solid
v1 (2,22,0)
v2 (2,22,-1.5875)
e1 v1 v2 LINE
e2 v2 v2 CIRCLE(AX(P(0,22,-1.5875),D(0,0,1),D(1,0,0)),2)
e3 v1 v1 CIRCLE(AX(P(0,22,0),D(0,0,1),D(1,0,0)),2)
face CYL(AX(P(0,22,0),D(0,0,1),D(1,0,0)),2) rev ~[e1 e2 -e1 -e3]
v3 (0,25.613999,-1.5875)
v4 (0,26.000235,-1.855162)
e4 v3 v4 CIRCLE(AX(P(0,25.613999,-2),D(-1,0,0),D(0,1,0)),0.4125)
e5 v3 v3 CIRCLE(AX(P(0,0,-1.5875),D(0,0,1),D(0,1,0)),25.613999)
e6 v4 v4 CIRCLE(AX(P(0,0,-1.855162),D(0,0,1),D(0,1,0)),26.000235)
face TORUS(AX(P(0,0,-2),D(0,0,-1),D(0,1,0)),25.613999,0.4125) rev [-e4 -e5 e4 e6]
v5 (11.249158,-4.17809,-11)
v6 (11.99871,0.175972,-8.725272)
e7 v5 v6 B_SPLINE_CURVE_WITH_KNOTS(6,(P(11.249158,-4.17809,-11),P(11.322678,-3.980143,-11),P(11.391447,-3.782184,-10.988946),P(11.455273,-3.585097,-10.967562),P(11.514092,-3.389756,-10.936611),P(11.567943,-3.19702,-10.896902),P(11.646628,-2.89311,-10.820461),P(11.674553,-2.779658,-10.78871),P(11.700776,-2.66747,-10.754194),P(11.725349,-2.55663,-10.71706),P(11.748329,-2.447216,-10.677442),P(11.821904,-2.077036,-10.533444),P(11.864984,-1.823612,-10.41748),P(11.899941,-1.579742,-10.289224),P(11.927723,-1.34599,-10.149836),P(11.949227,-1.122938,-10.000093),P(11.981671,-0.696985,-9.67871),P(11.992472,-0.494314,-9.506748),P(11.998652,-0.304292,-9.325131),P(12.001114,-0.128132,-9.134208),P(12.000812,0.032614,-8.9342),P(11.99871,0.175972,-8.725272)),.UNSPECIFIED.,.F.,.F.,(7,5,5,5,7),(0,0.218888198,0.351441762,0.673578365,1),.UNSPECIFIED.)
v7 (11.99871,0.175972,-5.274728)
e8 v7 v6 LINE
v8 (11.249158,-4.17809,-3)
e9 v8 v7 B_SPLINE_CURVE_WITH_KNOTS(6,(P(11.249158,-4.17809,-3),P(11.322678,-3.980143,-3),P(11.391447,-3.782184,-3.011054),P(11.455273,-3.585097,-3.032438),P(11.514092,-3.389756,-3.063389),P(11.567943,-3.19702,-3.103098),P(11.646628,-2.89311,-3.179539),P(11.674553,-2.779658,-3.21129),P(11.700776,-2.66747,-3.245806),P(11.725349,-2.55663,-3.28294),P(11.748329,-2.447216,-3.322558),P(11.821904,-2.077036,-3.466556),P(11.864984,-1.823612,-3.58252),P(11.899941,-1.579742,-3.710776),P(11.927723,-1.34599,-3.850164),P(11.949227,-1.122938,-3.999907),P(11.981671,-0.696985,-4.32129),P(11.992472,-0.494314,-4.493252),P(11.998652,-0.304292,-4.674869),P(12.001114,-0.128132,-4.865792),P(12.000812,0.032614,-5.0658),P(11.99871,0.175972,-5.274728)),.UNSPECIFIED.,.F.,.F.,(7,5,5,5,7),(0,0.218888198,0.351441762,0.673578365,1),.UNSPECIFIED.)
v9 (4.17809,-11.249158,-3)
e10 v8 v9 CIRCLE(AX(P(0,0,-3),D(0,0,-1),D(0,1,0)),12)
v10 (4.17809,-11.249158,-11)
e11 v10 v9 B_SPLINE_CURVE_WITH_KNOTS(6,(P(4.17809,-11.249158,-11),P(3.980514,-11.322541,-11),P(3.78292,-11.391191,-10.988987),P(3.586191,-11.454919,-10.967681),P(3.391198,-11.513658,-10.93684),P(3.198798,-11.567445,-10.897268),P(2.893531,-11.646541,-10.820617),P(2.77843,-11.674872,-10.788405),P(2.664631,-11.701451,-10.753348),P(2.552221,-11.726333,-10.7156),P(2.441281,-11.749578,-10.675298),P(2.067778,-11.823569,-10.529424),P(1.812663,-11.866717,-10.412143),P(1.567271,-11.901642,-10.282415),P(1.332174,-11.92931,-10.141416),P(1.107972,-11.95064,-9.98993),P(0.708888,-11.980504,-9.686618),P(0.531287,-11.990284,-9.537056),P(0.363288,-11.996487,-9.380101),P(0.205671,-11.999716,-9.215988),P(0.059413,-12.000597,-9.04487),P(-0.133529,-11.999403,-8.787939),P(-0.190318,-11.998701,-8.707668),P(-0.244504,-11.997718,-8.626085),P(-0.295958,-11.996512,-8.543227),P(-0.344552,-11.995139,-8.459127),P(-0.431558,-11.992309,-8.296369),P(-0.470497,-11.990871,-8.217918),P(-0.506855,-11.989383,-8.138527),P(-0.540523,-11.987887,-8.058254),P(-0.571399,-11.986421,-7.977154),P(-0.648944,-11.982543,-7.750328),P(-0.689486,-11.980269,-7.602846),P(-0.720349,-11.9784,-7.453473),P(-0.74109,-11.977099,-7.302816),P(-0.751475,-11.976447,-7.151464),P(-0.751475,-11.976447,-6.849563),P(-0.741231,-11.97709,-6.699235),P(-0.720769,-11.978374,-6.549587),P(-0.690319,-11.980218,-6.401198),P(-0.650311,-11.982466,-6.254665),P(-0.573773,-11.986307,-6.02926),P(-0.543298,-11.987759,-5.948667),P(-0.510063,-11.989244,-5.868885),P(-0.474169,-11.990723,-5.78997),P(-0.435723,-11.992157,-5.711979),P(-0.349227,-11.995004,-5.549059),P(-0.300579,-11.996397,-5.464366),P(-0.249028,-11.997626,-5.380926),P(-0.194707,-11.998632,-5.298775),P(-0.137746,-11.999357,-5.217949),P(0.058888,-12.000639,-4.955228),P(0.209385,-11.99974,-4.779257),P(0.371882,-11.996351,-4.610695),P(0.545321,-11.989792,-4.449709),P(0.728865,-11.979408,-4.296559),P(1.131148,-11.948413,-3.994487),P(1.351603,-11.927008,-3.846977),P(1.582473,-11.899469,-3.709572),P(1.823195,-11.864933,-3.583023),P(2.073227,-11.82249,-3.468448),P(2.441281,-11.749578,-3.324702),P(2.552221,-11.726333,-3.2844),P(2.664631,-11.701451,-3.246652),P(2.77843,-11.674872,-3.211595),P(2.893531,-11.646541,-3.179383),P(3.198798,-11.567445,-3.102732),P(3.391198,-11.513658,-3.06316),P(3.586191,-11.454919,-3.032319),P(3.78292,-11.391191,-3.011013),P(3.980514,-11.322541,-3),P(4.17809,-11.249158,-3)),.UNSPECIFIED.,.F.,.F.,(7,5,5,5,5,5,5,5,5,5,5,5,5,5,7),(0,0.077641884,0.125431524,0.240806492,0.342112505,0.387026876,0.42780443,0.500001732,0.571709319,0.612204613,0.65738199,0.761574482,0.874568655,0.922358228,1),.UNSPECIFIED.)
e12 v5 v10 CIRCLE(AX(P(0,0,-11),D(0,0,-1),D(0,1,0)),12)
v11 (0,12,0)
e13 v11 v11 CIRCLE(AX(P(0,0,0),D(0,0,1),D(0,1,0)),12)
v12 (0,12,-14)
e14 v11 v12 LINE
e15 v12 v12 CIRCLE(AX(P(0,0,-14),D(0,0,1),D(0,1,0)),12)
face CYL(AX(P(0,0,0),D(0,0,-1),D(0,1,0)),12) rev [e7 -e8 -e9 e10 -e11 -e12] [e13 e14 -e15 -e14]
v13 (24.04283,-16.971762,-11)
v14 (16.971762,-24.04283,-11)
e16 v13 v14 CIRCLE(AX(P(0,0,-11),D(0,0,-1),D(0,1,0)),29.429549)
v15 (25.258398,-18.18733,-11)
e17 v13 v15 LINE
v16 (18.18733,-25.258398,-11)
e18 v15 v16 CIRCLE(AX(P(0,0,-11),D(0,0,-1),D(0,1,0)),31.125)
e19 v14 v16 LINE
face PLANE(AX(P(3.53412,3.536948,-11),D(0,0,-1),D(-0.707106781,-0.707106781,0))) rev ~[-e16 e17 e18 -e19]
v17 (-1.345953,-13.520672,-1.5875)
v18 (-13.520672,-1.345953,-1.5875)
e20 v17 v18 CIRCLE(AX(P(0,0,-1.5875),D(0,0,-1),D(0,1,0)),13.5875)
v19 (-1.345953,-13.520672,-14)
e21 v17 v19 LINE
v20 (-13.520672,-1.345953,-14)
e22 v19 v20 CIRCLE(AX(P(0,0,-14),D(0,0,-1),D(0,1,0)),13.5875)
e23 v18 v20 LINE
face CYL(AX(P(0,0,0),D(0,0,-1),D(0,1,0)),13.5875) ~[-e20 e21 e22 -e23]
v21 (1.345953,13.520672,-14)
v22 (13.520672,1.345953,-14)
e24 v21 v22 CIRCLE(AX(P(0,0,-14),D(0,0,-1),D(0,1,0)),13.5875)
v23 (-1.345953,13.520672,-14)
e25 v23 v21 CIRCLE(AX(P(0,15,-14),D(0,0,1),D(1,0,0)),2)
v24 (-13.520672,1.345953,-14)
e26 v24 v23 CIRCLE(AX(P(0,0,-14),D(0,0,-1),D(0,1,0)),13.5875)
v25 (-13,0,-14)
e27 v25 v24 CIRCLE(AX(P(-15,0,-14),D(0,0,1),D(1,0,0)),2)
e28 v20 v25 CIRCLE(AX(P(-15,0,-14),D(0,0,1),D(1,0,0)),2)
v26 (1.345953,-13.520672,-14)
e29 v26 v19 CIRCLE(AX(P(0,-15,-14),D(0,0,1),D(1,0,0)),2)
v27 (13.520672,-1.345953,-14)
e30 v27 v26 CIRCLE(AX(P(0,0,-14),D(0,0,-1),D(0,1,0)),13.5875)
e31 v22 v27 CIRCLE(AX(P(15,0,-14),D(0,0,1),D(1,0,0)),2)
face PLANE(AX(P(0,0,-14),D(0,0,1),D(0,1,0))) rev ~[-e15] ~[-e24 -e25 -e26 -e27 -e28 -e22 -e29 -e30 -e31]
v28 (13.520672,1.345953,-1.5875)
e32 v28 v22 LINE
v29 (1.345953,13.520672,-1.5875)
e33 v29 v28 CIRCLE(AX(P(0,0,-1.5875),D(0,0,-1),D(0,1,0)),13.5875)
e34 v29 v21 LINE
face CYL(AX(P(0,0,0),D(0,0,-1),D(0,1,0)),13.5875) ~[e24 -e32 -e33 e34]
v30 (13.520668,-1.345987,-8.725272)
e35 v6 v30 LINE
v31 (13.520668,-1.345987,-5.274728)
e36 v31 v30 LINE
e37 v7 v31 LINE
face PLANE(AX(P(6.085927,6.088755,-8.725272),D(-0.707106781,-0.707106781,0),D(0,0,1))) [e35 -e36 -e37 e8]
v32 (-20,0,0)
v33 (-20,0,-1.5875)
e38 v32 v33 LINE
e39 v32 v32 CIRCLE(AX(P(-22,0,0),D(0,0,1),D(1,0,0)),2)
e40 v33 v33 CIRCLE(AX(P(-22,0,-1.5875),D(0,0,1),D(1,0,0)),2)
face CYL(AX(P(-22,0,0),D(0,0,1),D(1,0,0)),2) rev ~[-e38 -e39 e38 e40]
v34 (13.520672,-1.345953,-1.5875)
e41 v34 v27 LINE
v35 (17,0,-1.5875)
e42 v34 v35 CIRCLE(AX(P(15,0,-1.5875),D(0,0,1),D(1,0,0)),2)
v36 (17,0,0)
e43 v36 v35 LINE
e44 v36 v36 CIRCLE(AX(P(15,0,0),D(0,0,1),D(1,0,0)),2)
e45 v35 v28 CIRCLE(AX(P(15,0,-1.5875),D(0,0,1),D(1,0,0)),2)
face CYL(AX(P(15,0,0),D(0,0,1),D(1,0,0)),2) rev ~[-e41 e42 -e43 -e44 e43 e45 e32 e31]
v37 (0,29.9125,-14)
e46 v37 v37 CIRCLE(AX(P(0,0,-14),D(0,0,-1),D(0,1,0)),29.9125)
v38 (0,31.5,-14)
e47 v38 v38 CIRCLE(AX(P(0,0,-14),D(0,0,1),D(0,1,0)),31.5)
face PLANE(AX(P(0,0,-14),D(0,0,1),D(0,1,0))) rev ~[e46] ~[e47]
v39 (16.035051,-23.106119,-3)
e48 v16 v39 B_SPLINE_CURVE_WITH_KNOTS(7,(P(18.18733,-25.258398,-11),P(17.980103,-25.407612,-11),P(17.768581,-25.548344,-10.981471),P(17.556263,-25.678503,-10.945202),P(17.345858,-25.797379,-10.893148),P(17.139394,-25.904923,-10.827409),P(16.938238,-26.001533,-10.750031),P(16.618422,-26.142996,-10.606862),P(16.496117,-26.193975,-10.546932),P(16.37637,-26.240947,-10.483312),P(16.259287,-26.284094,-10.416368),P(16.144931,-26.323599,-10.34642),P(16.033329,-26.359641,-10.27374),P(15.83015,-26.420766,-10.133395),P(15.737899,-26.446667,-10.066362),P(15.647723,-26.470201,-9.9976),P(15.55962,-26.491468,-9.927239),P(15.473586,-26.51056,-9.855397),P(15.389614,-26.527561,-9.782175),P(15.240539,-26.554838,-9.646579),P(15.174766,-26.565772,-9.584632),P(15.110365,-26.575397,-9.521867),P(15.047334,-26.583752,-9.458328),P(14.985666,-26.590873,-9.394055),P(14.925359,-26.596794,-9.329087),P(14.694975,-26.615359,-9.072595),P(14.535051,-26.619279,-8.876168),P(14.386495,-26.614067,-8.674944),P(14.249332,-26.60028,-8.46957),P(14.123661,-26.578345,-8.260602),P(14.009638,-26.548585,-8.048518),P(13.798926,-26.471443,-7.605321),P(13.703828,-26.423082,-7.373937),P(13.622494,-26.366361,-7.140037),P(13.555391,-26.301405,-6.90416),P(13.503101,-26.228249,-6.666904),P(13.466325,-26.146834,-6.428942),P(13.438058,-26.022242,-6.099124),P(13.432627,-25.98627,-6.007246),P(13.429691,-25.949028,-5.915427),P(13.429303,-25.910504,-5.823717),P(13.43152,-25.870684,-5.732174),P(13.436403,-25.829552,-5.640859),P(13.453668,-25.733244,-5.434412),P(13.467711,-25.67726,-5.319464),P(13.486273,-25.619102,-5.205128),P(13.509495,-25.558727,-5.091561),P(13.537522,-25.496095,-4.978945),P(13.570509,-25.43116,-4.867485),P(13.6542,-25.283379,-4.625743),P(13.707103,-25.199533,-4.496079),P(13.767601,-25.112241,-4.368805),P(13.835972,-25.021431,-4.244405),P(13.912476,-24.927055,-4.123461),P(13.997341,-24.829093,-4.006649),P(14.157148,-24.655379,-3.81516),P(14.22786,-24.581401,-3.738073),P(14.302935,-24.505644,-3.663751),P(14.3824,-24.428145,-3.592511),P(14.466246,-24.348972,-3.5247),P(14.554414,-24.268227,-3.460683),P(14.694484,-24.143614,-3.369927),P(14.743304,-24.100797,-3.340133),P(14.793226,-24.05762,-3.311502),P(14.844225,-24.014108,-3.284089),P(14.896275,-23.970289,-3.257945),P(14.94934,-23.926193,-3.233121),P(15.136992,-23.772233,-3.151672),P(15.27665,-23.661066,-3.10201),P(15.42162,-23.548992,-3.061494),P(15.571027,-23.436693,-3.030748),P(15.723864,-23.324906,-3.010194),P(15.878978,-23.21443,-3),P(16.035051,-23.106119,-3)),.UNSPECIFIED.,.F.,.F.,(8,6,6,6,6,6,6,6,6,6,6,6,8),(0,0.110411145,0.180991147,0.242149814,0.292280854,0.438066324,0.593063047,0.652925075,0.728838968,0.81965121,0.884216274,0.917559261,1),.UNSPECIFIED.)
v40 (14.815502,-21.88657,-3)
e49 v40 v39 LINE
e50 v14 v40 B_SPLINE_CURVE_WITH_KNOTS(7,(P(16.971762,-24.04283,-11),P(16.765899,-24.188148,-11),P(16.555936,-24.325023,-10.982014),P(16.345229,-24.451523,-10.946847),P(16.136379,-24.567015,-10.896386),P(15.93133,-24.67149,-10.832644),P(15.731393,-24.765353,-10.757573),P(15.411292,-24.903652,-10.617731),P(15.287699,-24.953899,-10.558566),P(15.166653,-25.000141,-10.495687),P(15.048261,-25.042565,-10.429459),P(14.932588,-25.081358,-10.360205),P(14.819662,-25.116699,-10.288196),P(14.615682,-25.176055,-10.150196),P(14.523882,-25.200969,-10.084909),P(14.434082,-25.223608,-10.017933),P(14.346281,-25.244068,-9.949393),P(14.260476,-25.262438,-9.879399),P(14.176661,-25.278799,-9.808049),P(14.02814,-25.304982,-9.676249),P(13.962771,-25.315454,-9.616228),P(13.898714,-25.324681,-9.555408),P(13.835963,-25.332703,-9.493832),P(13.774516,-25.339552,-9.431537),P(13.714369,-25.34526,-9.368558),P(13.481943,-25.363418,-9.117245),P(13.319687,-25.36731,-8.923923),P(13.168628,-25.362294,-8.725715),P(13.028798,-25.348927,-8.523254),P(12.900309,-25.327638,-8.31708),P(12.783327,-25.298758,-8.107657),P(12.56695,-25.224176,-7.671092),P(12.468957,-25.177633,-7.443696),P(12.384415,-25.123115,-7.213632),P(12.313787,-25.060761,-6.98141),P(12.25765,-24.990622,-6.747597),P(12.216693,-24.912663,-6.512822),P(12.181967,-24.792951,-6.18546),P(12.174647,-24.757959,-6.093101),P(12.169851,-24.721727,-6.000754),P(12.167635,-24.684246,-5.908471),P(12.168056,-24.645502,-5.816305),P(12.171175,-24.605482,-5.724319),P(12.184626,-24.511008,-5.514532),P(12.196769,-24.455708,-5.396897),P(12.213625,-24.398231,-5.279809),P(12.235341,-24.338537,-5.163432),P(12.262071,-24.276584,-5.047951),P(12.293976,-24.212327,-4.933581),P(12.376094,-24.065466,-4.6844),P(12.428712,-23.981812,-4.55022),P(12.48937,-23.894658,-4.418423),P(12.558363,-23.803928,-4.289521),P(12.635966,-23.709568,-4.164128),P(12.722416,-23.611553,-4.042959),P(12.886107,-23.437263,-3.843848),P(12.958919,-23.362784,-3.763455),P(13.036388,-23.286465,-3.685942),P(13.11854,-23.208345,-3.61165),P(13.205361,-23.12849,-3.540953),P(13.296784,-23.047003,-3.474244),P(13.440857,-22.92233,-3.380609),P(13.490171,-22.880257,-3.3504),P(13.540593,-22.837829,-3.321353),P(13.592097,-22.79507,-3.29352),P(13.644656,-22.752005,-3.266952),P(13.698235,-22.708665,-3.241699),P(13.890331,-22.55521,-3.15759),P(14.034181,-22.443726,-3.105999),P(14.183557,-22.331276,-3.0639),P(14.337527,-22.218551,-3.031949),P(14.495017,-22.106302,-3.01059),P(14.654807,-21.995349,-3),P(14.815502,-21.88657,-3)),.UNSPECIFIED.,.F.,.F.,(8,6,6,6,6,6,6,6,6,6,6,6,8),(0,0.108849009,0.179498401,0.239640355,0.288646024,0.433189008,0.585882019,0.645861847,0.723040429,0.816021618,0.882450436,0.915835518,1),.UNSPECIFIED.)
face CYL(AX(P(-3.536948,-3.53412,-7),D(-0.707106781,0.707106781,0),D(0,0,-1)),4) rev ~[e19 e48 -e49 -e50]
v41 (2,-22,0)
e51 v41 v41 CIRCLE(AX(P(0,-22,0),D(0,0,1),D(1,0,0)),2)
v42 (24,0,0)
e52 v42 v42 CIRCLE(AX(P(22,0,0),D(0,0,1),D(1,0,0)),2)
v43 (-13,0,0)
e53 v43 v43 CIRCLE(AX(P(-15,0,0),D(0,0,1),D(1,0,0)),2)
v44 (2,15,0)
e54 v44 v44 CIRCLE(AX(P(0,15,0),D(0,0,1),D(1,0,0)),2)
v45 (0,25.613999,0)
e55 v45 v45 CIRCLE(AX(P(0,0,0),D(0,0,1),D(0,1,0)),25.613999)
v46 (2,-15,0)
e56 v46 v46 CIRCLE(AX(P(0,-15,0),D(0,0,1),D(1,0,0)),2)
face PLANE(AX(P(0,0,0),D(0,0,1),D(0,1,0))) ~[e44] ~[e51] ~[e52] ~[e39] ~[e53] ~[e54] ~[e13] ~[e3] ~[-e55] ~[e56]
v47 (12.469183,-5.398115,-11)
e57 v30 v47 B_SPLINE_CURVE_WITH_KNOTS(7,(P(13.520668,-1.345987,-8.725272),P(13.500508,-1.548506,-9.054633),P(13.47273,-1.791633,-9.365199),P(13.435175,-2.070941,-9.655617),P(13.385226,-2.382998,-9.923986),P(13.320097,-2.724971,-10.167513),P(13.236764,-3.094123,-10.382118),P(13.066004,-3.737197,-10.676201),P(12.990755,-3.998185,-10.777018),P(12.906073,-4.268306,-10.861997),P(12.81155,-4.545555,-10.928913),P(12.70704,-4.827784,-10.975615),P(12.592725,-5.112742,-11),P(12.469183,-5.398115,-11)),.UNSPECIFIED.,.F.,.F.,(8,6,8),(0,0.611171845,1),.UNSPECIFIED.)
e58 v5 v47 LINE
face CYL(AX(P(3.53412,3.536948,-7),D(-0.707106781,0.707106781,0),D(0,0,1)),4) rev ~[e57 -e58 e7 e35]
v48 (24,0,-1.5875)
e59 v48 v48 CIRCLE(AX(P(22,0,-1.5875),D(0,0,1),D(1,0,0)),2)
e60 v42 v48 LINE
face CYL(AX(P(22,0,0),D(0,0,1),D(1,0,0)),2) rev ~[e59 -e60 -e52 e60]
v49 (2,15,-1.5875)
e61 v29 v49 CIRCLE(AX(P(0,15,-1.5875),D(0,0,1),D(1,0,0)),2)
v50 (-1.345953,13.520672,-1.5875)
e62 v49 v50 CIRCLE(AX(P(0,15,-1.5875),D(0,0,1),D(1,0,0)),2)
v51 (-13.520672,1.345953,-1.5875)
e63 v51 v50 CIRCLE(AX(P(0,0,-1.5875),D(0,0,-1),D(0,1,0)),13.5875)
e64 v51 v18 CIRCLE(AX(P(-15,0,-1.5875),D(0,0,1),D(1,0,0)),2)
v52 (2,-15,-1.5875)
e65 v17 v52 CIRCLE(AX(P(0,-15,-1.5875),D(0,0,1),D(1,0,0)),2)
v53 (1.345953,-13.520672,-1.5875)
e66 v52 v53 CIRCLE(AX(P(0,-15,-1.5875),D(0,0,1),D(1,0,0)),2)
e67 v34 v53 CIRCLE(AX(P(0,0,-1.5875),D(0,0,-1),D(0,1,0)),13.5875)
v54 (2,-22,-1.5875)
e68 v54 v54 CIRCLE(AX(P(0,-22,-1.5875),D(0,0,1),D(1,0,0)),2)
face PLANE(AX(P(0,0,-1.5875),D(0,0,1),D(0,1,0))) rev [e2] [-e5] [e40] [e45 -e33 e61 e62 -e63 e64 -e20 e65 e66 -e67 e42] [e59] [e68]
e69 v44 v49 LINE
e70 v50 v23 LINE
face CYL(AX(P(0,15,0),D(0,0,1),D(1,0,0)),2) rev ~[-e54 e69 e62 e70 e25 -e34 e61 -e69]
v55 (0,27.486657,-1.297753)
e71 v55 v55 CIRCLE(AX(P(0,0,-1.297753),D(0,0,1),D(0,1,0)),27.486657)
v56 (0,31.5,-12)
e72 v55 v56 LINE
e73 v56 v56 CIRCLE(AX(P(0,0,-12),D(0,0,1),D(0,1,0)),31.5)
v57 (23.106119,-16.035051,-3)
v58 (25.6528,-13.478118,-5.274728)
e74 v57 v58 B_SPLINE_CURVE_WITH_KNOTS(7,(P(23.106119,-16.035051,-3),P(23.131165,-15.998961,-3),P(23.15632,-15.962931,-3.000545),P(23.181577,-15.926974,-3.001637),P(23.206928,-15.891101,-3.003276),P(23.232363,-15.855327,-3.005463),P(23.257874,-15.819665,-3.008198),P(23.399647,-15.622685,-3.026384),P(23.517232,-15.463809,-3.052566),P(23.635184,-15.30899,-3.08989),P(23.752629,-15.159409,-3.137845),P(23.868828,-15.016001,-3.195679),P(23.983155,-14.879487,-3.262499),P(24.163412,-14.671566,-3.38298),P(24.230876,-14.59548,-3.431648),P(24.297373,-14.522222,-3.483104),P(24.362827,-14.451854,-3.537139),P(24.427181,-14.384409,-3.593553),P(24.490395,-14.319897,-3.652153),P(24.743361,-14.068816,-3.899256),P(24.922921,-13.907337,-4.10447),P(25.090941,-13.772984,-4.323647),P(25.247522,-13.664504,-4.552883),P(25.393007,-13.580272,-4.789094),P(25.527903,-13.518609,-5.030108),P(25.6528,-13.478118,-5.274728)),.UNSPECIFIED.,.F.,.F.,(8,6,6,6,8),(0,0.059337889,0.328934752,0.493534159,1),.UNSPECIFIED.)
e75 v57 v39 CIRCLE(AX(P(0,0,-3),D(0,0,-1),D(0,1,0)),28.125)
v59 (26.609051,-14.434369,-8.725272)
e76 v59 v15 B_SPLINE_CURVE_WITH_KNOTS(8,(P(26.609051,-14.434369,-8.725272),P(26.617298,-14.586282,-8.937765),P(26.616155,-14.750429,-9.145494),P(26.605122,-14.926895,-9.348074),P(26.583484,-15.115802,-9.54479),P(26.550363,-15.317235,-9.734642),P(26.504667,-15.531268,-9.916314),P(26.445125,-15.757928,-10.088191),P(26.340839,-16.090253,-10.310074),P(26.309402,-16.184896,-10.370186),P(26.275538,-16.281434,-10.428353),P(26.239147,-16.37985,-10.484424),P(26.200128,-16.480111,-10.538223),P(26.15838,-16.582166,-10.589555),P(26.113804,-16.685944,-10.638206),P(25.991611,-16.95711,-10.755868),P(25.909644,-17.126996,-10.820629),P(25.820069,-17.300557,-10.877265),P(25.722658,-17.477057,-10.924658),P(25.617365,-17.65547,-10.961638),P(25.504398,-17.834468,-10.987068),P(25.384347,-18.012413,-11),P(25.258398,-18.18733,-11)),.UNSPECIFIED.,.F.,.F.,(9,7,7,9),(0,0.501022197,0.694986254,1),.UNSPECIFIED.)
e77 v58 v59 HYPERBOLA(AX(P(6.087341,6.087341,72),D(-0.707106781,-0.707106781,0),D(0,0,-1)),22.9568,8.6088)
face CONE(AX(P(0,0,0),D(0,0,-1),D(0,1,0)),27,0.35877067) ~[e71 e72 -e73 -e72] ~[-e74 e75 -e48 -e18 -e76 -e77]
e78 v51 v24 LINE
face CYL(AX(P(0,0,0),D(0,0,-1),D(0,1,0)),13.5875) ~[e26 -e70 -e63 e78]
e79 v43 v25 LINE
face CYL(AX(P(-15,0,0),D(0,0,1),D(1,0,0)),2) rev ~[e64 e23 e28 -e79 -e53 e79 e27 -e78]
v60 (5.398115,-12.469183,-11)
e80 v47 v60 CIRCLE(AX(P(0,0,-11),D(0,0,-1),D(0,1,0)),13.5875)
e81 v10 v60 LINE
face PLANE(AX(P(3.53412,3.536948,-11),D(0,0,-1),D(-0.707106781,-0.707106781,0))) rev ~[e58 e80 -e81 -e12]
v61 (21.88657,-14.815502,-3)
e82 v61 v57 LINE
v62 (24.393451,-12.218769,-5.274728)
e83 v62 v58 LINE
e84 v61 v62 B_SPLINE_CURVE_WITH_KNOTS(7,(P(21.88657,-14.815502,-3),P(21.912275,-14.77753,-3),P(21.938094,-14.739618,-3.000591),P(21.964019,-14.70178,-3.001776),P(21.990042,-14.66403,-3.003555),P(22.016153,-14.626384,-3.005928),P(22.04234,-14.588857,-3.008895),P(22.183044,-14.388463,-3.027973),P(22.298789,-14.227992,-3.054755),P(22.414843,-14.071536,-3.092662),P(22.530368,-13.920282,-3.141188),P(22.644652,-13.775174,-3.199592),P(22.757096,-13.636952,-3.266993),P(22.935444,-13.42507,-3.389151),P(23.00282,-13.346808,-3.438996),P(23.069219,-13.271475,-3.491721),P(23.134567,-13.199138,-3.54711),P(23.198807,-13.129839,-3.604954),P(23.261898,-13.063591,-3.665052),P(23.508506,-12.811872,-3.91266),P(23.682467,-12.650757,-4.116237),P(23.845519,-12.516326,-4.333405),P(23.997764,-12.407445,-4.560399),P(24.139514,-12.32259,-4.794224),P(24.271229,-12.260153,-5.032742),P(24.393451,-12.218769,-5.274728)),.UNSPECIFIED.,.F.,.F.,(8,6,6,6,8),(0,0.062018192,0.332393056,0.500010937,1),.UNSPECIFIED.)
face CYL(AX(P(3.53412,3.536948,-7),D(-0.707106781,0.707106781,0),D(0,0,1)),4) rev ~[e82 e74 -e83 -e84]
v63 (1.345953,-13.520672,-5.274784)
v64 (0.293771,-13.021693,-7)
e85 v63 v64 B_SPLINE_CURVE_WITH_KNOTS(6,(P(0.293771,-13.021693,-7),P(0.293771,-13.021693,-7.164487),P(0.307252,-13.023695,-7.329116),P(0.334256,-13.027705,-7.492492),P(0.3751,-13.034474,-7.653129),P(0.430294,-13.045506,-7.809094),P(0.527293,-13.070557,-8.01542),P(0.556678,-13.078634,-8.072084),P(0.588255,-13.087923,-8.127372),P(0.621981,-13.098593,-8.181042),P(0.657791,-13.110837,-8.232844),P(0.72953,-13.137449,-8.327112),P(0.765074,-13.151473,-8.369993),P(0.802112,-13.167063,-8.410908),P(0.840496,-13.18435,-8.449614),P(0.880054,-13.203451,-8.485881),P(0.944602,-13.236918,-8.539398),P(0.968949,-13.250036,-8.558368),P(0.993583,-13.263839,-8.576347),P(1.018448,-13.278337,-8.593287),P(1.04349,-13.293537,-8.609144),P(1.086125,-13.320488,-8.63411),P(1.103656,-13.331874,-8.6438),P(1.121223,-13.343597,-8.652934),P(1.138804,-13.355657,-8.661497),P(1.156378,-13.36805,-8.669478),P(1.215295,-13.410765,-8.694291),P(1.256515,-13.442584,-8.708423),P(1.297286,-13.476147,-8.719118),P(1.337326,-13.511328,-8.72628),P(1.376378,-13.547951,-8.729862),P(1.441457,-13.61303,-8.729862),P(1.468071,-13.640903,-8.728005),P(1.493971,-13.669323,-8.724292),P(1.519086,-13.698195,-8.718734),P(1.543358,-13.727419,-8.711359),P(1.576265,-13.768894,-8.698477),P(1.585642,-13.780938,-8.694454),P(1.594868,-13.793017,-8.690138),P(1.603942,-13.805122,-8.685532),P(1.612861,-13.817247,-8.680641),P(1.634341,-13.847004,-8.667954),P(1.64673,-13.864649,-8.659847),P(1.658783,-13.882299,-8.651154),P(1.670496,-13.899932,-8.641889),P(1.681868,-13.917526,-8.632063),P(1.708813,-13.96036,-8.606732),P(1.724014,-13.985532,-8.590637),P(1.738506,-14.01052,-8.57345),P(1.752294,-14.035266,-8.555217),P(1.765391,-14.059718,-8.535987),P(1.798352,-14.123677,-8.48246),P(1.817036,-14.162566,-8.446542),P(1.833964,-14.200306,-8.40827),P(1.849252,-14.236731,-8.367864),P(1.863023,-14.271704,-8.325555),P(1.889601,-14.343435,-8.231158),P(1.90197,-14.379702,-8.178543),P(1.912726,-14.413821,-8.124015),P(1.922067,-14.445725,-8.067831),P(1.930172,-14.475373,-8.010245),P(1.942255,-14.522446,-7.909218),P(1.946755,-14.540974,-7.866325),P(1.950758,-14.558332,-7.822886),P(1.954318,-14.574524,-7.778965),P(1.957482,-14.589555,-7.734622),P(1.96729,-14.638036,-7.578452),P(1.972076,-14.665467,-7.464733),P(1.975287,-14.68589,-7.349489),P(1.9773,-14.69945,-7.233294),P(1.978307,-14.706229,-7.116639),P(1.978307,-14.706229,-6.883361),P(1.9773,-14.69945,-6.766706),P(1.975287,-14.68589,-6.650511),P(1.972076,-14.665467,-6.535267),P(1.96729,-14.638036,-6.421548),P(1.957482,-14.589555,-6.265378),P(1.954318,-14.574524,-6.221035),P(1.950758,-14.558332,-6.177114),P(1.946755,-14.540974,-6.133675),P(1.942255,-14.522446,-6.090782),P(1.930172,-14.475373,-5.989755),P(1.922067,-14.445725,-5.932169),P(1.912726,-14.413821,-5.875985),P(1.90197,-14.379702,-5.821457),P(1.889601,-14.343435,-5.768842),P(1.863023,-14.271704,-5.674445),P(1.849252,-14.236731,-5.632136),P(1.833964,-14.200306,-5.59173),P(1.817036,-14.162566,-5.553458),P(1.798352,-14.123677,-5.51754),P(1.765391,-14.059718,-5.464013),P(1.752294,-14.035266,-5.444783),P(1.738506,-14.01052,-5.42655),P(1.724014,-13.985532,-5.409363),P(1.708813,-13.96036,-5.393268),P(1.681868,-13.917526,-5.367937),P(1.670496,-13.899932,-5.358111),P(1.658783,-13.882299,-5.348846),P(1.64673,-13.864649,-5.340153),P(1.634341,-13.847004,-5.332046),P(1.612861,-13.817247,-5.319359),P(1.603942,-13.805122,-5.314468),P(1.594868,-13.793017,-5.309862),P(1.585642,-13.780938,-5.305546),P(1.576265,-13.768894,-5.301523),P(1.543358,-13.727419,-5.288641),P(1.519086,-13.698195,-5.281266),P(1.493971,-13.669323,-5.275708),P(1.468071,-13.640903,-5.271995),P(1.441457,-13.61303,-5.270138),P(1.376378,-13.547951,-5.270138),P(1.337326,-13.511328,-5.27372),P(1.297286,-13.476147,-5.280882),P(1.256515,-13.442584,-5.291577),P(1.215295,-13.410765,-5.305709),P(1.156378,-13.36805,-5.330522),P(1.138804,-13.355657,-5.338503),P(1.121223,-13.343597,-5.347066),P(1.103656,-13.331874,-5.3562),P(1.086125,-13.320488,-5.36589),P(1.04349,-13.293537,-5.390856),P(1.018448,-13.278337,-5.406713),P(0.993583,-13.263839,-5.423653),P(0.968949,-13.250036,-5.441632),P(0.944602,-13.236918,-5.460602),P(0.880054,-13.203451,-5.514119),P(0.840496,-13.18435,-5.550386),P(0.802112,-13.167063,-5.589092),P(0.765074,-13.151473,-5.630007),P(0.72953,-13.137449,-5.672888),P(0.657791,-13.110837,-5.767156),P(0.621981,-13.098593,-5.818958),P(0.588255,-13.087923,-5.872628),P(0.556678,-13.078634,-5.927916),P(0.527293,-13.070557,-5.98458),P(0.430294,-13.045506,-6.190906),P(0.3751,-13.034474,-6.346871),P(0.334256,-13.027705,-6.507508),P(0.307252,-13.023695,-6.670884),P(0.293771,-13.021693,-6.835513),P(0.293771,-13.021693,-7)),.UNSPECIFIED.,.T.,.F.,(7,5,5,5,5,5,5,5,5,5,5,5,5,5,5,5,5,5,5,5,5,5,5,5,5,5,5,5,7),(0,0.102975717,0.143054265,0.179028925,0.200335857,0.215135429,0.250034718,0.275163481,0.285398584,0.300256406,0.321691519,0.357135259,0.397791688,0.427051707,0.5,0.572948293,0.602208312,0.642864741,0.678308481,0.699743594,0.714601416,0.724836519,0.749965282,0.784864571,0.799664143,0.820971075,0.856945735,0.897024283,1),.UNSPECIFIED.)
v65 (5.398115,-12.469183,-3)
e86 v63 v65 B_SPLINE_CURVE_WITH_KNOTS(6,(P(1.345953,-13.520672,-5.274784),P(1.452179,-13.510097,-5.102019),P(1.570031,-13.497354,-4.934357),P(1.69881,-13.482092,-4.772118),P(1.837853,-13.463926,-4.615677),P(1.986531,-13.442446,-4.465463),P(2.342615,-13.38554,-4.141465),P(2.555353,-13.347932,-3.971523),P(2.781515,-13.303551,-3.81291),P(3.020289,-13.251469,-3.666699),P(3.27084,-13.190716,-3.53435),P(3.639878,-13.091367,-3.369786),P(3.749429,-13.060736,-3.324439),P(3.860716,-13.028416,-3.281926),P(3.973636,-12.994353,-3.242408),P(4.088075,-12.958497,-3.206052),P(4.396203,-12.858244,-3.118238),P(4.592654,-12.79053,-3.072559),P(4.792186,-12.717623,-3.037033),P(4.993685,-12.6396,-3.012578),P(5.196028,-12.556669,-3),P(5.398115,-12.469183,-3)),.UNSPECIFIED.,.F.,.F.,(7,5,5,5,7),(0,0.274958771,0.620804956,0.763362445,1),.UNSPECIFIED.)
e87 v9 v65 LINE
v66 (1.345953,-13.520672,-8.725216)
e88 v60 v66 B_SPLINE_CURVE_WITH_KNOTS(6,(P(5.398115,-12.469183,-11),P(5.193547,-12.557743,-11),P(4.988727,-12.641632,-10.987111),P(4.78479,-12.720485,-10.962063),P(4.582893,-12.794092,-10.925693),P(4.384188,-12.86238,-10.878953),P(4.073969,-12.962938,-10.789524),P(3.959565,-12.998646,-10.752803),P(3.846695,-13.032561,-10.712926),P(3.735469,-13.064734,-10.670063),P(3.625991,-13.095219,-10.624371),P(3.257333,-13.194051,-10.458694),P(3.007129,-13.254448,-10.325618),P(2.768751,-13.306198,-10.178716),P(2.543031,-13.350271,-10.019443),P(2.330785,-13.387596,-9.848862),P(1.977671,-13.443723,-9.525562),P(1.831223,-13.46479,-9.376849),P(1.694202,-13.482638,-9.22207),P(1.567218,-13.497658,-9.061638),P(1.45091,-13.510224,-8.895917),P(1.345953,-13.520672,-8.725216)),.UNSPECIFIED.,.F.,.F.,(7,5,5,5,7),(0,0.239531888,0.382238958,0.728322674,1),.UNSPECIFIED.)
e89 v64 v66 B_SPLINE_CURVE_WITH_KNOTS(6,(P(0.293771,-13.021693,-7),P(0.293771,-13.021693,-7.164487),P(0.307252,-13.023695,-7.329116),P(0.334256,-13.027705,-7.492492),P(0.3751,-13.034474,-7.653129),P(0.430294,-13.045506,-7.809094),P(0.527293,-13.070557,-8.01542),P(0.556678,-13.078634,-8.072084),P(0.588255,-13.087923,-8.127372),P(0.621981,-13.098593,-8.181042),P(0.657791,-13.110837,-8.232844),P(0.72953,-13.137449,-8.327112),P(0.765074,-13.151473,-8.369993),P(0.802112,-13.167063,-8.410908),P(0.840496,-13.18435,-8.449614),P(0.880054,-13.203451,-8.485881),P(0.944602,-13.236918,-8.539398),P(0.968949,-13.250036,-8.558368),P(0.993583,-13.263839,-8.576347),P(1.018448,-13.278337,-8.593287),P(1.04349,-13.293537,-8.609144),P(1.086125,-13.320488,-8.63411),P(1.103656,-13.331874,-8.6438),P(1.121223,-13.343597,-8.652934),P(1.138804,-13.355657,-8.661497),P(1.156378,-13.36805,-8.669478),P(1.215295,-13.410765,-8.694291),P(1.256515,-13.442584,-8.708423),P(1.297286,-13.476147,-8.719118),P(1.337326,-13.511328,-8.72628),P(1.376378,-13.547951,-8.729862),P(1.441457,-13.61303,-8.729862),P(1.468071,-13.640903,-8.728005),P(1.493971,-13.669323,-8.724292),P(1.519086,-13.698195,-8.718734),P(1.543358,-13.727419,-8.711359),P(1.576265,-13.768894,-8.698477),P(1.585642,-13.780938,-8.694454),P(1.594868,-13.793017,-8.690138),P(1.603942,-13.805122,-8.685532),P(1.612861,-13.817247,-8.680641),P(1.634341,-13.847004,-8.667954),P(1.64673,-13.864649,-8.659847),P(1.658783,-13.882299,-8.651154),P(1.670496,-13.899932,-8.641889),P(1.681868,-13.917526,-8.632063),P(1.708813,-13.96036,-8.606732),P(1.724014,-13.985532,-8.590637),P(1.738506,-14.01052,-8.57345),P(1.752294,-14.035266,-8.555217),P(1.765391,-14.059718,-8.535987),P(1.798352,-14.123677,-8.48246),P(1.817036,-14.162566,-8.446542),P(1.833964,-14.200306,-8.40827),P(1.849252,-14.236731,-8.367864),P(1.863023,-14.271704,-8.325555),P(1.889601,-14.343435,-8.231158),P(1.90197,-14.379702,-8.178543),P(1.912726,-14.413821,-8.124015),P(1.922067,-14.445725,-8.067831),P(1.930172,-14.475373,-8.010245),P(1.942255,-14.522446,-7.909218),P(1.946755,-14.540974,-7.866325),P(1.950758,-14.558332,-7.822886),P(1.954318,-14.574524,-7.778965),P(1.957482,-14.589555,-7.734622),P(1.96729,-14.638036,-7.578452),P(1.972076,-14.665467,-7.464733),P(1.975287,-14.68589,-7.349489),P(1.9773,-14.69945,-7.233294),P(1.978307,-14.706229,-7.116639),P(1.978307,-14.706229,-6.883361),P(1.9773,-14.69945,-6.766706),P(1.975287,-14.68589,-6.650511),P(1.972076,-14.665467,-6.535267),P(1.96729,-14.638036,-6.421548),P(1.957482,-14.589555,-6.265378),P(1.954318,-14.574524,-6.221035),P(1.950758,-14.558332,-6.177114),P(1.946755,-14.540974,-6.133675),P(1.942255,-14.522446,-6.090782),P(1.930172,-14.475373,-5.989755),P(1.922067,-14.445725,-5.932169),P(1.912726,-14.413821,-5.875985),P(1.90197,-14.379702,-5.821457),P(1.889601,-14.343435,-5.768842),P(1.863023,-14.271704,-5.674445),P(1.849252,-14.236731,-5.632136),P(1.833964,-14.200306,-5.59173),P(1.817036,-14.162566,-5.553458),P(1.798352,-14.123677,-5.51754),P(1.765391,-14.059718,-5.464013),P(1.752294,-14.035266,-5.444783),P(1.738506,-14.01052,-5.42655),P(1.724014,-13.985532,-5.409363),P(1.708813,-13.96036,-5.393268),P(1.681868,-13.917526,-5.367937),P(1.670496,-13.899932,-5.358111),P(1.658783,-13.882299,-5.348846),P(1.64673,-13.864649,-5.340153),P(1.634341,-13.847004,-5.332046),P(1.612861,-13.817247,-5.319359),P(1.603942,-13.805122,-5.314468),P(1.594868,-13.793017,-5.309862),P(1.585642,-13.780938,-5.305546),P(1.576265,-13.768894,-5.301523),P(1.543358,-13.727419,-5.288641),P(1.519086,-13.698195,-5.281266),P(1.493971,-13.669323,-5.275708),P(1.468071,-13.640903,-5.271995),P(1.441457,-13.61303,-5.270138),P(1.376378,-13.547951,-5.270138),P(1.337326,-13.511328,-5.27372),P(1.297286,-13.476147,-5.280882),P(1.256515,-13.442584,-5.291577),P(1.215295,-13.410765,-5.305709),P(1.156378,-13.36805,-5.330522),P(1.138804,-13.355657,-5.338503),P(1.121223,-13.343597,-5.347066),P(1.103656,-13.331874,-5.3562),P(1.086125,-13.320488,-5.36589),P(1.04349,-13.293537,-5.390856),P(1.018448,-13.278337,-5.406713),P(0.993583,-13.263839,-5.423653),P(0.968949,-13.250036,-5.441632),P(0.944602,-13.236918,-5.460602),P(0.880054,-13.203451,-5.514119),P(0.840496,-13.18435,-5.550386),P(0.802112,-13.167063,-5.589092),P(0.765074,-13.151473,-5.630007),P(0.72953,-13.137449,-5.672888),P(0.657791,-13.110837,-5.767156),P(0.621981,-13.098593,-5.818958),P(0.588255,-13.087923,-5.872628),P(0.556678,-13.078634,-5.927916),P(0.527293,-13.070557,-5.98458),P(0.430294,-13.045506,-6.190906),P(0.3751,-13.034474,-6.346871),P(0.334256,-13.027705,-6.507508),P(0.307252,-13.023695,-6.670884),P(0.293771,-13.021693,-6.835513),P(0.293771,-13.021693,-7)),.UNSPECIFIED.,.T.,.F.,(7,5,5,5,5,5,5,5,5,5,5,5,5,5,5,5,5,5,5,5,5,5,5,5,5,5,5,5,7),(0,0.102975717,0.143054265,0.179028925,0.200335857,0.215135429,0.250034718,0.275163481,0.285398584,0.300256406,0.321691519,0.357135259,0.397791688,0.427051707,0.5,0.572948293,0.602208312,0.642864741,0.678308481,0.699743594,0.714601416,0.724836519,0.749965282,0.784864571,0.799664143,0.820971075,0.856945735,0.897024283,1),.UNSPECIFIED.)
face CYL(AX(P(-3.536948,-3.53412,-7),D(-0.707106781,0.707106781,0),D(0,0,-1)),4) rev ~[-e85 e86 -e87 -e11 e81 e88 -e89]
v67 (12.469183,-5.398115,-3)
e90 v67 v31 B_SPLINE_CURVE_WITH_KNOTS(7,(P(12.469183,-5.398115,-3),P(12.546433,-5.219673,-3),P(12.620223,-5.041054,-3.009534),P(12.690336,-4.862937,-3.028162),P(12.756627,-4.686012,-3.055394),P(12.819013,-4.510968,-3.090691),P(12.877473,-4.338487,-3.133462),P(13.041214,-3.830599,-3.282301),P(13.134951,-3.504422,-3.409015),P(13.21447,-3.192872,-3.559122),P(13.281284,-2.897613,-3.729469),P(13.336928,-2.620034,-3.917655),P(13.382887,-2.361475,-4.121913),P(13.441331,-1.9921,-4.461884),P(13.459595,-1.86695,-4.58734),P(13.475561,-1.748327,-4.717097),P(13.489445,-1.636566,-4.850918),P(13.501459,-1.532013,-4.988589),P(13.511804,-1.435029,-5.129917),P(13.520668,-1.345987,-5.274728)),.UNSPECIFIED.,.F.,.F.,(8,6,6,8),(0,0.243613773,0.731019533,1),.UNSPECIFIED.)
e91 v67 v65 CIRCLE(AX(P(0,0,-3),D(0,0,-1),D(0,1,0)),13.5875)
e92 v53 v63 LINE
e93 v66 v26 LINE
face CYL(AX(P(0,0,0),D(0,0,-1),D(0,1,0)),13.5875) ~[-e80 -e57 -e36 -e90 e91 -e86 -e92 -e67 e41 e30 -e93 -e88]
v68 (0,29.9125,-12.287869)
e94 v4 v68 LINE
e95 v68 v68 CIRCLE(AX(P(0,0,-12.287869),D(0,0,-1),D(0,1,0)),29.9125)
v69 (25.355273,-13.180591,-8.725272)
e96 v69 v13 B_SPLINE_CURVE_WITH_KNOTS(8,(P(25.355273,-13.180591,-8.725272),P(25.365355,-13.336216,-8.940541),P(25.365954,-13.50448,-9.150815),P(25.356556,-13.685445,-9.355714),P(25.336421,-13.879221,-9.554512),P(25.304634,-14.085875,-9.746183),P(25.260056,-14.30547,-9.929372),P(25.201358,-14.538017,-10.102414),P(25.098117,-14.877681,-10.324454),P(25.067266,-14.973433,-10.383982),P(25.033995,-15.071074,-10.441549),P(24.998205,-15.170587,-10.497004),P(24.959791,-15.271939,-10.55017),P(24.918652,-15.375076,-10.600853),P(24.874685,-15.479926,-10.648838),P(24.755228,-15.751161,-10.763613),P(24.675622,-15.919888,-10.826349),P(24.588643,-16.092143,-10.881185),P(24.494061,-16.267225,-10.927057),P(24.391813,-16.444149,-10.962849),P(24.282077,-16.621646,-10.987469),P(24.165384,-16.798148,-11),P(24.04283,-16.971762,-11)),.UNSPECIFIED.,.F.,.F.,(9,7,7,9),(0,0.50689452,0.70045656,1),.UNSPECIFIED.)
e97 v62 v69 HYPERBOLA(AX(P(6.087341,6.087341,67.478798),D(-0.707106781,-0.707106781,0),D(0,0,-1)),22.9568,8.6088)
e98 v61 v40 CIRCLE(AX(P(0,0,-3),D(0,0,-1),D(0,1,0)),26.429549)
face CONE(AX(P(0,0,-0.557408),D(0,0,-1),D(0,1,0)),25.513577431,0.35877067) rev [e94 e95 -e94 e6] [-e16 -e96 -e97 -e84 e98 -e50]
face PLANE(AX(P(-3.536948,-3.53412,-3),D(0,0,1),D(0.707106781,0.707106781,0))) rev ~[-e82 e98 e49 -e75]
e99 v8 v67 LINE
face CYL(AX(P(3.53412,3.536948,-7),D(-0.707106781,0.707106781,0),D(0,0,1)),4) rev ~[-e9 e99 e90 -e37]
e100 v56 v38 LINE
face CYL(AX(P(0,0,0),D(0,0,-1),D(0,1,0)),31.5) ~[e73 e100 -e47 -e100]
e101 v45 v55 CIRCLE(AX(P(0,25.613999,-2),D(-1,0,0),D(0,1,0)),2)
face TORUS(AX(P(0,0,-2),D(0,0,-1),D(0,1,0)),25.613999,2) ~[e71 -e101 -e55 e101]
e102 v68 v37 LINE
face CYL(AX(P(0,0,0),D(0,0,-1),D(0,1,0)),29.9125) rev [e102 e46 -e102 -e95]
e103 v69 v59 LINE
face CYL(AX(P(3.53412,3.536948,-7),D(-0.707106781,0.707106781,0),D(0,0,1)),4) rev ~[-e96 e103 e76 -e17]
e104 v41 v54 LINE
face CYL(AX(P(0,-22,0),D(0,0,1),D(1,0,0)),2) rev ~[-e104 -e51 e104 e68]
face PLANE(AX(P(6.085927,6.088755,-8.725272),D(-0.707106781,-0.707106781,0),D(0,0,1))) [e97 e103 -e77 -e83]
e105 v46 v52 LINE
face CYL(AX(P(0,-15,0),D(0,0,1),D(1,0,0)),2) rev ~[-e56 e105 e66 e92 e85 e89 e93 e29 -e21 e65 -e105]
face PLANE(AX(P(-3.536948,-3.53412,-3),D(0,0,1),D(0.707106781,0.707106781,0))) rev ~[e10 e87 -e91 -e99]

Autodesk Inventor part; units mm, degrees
ref_plane "XY Plane" through (0, 0, 0) normal (0, 0, 1) x (1, 0, 0)
sketch "Sketch1" plane through (0, 0, 0) normal (1, 0, 0) x (0, 1, 0)
  line L0 (0, 0) -> (31.5, 0)
  line L1 (31.5, 0) -> (31.5, -14)
  line L2 (31.5, -14) -> (0, -14)
  line L3 (0, -14) -> (0, 0) construction
  line L4 (27, 0) -> (31.5, -12)
  line L5 (0, 0) -> (12, 0)
  line L6 (12, 0) -> (12, -14)
  line L7 (12, -14) -> (0, -14)
  line L8 (0, -14) -> (0, 0) construction
  dimension "d0" = 31.5
  dimension "d1" = 14
  dimension "d2" = 2
  dimension "d3" = 27
  dimension "d4" = 12
revolve "Revolution1" add sketch "Sketch1" angle 360 about axis through (0, 0, -14) along (0, 0, 1) contours L0 L4 L1 L2 L6
fillet "Fillet1" radius 2 1 edges at (0, -27, 0)
shell "Shell1" thickness 1.5875 removed faces 1 at (2.5128, 24.6949, -14)
sketch "Sketch2" plane through (0, 0, 0) normal (0, 0, 1) x (1, 0, 0)
  circle A0 centre (0, 0) radius 15 construction
  circle A1 centre (0, 0) radius 22 construction
  line L0 (0, 0) -> (0, 22) construction
  circle A2 centre (0, 15) radius 2
  circle A3 centre (0, 22) radius 2
  circle A4 centre (-22, 0) radius 2
  circle A5 centre (-15, 0) radius 2
  circle A6 centre (0, -22) radius 2
  circle A7 centre (0, -15) radius 2
  circle A8 centre (22, 0) radius 2
  circle A9 centre (15, 0) radius 2
  dimension "d7" = 30
  dimension "d8" = 44
  dimension "d9" = 4
  dimension "d10" = 4
  dimension "d13" = 360
extrude "Extrusion1" cut sketch "Sketch2" against normal blind 25.4
ref_plane "Work Plane1" through (0, 0, 0) normal (-0.7071, 0.7071, 0) x (0, 0, 1)
sketch "Sketch3" plane through (0, 0, 0) normal (-0.7071, 0.7071, 0) x (0, 0, 1)
  line L0 (-14, 8.6088) -> (-14, -8.6088) projected
  line L1 (-14, 0) -> (0, 0) construction
  line L2 (-7, -5) -> (-7, 5) construction
  line L3 (-14, 8.6088) -> (-1.5875, 8.6088) projected
  line L4 (-3, -5) -> (-3, 5)
  line L5 (-11, 5) -> (-11, -5)
  arc A0 (-11, -5) -> (-3, -5) centre (-7, -5) ccw
  arc A1 (-3, 5) -> (-11, 5) centre (-7, 5) ccw
  line L6 (-7, 0) -> (3, 0) construction
  point P0 (-5.2748, 8.6088)
  point P1 (-8.7252, 8.6088)
  dimension "d18" = 5
  dimension "d19" = 90
  dimension "d20" = 8
extrude "Extrusion2" cut sketch "Sketch3" against normal blind 50.8 contours L3 A1 L4 A0 L5
properties part number "Base" material "Stainless Steel"
